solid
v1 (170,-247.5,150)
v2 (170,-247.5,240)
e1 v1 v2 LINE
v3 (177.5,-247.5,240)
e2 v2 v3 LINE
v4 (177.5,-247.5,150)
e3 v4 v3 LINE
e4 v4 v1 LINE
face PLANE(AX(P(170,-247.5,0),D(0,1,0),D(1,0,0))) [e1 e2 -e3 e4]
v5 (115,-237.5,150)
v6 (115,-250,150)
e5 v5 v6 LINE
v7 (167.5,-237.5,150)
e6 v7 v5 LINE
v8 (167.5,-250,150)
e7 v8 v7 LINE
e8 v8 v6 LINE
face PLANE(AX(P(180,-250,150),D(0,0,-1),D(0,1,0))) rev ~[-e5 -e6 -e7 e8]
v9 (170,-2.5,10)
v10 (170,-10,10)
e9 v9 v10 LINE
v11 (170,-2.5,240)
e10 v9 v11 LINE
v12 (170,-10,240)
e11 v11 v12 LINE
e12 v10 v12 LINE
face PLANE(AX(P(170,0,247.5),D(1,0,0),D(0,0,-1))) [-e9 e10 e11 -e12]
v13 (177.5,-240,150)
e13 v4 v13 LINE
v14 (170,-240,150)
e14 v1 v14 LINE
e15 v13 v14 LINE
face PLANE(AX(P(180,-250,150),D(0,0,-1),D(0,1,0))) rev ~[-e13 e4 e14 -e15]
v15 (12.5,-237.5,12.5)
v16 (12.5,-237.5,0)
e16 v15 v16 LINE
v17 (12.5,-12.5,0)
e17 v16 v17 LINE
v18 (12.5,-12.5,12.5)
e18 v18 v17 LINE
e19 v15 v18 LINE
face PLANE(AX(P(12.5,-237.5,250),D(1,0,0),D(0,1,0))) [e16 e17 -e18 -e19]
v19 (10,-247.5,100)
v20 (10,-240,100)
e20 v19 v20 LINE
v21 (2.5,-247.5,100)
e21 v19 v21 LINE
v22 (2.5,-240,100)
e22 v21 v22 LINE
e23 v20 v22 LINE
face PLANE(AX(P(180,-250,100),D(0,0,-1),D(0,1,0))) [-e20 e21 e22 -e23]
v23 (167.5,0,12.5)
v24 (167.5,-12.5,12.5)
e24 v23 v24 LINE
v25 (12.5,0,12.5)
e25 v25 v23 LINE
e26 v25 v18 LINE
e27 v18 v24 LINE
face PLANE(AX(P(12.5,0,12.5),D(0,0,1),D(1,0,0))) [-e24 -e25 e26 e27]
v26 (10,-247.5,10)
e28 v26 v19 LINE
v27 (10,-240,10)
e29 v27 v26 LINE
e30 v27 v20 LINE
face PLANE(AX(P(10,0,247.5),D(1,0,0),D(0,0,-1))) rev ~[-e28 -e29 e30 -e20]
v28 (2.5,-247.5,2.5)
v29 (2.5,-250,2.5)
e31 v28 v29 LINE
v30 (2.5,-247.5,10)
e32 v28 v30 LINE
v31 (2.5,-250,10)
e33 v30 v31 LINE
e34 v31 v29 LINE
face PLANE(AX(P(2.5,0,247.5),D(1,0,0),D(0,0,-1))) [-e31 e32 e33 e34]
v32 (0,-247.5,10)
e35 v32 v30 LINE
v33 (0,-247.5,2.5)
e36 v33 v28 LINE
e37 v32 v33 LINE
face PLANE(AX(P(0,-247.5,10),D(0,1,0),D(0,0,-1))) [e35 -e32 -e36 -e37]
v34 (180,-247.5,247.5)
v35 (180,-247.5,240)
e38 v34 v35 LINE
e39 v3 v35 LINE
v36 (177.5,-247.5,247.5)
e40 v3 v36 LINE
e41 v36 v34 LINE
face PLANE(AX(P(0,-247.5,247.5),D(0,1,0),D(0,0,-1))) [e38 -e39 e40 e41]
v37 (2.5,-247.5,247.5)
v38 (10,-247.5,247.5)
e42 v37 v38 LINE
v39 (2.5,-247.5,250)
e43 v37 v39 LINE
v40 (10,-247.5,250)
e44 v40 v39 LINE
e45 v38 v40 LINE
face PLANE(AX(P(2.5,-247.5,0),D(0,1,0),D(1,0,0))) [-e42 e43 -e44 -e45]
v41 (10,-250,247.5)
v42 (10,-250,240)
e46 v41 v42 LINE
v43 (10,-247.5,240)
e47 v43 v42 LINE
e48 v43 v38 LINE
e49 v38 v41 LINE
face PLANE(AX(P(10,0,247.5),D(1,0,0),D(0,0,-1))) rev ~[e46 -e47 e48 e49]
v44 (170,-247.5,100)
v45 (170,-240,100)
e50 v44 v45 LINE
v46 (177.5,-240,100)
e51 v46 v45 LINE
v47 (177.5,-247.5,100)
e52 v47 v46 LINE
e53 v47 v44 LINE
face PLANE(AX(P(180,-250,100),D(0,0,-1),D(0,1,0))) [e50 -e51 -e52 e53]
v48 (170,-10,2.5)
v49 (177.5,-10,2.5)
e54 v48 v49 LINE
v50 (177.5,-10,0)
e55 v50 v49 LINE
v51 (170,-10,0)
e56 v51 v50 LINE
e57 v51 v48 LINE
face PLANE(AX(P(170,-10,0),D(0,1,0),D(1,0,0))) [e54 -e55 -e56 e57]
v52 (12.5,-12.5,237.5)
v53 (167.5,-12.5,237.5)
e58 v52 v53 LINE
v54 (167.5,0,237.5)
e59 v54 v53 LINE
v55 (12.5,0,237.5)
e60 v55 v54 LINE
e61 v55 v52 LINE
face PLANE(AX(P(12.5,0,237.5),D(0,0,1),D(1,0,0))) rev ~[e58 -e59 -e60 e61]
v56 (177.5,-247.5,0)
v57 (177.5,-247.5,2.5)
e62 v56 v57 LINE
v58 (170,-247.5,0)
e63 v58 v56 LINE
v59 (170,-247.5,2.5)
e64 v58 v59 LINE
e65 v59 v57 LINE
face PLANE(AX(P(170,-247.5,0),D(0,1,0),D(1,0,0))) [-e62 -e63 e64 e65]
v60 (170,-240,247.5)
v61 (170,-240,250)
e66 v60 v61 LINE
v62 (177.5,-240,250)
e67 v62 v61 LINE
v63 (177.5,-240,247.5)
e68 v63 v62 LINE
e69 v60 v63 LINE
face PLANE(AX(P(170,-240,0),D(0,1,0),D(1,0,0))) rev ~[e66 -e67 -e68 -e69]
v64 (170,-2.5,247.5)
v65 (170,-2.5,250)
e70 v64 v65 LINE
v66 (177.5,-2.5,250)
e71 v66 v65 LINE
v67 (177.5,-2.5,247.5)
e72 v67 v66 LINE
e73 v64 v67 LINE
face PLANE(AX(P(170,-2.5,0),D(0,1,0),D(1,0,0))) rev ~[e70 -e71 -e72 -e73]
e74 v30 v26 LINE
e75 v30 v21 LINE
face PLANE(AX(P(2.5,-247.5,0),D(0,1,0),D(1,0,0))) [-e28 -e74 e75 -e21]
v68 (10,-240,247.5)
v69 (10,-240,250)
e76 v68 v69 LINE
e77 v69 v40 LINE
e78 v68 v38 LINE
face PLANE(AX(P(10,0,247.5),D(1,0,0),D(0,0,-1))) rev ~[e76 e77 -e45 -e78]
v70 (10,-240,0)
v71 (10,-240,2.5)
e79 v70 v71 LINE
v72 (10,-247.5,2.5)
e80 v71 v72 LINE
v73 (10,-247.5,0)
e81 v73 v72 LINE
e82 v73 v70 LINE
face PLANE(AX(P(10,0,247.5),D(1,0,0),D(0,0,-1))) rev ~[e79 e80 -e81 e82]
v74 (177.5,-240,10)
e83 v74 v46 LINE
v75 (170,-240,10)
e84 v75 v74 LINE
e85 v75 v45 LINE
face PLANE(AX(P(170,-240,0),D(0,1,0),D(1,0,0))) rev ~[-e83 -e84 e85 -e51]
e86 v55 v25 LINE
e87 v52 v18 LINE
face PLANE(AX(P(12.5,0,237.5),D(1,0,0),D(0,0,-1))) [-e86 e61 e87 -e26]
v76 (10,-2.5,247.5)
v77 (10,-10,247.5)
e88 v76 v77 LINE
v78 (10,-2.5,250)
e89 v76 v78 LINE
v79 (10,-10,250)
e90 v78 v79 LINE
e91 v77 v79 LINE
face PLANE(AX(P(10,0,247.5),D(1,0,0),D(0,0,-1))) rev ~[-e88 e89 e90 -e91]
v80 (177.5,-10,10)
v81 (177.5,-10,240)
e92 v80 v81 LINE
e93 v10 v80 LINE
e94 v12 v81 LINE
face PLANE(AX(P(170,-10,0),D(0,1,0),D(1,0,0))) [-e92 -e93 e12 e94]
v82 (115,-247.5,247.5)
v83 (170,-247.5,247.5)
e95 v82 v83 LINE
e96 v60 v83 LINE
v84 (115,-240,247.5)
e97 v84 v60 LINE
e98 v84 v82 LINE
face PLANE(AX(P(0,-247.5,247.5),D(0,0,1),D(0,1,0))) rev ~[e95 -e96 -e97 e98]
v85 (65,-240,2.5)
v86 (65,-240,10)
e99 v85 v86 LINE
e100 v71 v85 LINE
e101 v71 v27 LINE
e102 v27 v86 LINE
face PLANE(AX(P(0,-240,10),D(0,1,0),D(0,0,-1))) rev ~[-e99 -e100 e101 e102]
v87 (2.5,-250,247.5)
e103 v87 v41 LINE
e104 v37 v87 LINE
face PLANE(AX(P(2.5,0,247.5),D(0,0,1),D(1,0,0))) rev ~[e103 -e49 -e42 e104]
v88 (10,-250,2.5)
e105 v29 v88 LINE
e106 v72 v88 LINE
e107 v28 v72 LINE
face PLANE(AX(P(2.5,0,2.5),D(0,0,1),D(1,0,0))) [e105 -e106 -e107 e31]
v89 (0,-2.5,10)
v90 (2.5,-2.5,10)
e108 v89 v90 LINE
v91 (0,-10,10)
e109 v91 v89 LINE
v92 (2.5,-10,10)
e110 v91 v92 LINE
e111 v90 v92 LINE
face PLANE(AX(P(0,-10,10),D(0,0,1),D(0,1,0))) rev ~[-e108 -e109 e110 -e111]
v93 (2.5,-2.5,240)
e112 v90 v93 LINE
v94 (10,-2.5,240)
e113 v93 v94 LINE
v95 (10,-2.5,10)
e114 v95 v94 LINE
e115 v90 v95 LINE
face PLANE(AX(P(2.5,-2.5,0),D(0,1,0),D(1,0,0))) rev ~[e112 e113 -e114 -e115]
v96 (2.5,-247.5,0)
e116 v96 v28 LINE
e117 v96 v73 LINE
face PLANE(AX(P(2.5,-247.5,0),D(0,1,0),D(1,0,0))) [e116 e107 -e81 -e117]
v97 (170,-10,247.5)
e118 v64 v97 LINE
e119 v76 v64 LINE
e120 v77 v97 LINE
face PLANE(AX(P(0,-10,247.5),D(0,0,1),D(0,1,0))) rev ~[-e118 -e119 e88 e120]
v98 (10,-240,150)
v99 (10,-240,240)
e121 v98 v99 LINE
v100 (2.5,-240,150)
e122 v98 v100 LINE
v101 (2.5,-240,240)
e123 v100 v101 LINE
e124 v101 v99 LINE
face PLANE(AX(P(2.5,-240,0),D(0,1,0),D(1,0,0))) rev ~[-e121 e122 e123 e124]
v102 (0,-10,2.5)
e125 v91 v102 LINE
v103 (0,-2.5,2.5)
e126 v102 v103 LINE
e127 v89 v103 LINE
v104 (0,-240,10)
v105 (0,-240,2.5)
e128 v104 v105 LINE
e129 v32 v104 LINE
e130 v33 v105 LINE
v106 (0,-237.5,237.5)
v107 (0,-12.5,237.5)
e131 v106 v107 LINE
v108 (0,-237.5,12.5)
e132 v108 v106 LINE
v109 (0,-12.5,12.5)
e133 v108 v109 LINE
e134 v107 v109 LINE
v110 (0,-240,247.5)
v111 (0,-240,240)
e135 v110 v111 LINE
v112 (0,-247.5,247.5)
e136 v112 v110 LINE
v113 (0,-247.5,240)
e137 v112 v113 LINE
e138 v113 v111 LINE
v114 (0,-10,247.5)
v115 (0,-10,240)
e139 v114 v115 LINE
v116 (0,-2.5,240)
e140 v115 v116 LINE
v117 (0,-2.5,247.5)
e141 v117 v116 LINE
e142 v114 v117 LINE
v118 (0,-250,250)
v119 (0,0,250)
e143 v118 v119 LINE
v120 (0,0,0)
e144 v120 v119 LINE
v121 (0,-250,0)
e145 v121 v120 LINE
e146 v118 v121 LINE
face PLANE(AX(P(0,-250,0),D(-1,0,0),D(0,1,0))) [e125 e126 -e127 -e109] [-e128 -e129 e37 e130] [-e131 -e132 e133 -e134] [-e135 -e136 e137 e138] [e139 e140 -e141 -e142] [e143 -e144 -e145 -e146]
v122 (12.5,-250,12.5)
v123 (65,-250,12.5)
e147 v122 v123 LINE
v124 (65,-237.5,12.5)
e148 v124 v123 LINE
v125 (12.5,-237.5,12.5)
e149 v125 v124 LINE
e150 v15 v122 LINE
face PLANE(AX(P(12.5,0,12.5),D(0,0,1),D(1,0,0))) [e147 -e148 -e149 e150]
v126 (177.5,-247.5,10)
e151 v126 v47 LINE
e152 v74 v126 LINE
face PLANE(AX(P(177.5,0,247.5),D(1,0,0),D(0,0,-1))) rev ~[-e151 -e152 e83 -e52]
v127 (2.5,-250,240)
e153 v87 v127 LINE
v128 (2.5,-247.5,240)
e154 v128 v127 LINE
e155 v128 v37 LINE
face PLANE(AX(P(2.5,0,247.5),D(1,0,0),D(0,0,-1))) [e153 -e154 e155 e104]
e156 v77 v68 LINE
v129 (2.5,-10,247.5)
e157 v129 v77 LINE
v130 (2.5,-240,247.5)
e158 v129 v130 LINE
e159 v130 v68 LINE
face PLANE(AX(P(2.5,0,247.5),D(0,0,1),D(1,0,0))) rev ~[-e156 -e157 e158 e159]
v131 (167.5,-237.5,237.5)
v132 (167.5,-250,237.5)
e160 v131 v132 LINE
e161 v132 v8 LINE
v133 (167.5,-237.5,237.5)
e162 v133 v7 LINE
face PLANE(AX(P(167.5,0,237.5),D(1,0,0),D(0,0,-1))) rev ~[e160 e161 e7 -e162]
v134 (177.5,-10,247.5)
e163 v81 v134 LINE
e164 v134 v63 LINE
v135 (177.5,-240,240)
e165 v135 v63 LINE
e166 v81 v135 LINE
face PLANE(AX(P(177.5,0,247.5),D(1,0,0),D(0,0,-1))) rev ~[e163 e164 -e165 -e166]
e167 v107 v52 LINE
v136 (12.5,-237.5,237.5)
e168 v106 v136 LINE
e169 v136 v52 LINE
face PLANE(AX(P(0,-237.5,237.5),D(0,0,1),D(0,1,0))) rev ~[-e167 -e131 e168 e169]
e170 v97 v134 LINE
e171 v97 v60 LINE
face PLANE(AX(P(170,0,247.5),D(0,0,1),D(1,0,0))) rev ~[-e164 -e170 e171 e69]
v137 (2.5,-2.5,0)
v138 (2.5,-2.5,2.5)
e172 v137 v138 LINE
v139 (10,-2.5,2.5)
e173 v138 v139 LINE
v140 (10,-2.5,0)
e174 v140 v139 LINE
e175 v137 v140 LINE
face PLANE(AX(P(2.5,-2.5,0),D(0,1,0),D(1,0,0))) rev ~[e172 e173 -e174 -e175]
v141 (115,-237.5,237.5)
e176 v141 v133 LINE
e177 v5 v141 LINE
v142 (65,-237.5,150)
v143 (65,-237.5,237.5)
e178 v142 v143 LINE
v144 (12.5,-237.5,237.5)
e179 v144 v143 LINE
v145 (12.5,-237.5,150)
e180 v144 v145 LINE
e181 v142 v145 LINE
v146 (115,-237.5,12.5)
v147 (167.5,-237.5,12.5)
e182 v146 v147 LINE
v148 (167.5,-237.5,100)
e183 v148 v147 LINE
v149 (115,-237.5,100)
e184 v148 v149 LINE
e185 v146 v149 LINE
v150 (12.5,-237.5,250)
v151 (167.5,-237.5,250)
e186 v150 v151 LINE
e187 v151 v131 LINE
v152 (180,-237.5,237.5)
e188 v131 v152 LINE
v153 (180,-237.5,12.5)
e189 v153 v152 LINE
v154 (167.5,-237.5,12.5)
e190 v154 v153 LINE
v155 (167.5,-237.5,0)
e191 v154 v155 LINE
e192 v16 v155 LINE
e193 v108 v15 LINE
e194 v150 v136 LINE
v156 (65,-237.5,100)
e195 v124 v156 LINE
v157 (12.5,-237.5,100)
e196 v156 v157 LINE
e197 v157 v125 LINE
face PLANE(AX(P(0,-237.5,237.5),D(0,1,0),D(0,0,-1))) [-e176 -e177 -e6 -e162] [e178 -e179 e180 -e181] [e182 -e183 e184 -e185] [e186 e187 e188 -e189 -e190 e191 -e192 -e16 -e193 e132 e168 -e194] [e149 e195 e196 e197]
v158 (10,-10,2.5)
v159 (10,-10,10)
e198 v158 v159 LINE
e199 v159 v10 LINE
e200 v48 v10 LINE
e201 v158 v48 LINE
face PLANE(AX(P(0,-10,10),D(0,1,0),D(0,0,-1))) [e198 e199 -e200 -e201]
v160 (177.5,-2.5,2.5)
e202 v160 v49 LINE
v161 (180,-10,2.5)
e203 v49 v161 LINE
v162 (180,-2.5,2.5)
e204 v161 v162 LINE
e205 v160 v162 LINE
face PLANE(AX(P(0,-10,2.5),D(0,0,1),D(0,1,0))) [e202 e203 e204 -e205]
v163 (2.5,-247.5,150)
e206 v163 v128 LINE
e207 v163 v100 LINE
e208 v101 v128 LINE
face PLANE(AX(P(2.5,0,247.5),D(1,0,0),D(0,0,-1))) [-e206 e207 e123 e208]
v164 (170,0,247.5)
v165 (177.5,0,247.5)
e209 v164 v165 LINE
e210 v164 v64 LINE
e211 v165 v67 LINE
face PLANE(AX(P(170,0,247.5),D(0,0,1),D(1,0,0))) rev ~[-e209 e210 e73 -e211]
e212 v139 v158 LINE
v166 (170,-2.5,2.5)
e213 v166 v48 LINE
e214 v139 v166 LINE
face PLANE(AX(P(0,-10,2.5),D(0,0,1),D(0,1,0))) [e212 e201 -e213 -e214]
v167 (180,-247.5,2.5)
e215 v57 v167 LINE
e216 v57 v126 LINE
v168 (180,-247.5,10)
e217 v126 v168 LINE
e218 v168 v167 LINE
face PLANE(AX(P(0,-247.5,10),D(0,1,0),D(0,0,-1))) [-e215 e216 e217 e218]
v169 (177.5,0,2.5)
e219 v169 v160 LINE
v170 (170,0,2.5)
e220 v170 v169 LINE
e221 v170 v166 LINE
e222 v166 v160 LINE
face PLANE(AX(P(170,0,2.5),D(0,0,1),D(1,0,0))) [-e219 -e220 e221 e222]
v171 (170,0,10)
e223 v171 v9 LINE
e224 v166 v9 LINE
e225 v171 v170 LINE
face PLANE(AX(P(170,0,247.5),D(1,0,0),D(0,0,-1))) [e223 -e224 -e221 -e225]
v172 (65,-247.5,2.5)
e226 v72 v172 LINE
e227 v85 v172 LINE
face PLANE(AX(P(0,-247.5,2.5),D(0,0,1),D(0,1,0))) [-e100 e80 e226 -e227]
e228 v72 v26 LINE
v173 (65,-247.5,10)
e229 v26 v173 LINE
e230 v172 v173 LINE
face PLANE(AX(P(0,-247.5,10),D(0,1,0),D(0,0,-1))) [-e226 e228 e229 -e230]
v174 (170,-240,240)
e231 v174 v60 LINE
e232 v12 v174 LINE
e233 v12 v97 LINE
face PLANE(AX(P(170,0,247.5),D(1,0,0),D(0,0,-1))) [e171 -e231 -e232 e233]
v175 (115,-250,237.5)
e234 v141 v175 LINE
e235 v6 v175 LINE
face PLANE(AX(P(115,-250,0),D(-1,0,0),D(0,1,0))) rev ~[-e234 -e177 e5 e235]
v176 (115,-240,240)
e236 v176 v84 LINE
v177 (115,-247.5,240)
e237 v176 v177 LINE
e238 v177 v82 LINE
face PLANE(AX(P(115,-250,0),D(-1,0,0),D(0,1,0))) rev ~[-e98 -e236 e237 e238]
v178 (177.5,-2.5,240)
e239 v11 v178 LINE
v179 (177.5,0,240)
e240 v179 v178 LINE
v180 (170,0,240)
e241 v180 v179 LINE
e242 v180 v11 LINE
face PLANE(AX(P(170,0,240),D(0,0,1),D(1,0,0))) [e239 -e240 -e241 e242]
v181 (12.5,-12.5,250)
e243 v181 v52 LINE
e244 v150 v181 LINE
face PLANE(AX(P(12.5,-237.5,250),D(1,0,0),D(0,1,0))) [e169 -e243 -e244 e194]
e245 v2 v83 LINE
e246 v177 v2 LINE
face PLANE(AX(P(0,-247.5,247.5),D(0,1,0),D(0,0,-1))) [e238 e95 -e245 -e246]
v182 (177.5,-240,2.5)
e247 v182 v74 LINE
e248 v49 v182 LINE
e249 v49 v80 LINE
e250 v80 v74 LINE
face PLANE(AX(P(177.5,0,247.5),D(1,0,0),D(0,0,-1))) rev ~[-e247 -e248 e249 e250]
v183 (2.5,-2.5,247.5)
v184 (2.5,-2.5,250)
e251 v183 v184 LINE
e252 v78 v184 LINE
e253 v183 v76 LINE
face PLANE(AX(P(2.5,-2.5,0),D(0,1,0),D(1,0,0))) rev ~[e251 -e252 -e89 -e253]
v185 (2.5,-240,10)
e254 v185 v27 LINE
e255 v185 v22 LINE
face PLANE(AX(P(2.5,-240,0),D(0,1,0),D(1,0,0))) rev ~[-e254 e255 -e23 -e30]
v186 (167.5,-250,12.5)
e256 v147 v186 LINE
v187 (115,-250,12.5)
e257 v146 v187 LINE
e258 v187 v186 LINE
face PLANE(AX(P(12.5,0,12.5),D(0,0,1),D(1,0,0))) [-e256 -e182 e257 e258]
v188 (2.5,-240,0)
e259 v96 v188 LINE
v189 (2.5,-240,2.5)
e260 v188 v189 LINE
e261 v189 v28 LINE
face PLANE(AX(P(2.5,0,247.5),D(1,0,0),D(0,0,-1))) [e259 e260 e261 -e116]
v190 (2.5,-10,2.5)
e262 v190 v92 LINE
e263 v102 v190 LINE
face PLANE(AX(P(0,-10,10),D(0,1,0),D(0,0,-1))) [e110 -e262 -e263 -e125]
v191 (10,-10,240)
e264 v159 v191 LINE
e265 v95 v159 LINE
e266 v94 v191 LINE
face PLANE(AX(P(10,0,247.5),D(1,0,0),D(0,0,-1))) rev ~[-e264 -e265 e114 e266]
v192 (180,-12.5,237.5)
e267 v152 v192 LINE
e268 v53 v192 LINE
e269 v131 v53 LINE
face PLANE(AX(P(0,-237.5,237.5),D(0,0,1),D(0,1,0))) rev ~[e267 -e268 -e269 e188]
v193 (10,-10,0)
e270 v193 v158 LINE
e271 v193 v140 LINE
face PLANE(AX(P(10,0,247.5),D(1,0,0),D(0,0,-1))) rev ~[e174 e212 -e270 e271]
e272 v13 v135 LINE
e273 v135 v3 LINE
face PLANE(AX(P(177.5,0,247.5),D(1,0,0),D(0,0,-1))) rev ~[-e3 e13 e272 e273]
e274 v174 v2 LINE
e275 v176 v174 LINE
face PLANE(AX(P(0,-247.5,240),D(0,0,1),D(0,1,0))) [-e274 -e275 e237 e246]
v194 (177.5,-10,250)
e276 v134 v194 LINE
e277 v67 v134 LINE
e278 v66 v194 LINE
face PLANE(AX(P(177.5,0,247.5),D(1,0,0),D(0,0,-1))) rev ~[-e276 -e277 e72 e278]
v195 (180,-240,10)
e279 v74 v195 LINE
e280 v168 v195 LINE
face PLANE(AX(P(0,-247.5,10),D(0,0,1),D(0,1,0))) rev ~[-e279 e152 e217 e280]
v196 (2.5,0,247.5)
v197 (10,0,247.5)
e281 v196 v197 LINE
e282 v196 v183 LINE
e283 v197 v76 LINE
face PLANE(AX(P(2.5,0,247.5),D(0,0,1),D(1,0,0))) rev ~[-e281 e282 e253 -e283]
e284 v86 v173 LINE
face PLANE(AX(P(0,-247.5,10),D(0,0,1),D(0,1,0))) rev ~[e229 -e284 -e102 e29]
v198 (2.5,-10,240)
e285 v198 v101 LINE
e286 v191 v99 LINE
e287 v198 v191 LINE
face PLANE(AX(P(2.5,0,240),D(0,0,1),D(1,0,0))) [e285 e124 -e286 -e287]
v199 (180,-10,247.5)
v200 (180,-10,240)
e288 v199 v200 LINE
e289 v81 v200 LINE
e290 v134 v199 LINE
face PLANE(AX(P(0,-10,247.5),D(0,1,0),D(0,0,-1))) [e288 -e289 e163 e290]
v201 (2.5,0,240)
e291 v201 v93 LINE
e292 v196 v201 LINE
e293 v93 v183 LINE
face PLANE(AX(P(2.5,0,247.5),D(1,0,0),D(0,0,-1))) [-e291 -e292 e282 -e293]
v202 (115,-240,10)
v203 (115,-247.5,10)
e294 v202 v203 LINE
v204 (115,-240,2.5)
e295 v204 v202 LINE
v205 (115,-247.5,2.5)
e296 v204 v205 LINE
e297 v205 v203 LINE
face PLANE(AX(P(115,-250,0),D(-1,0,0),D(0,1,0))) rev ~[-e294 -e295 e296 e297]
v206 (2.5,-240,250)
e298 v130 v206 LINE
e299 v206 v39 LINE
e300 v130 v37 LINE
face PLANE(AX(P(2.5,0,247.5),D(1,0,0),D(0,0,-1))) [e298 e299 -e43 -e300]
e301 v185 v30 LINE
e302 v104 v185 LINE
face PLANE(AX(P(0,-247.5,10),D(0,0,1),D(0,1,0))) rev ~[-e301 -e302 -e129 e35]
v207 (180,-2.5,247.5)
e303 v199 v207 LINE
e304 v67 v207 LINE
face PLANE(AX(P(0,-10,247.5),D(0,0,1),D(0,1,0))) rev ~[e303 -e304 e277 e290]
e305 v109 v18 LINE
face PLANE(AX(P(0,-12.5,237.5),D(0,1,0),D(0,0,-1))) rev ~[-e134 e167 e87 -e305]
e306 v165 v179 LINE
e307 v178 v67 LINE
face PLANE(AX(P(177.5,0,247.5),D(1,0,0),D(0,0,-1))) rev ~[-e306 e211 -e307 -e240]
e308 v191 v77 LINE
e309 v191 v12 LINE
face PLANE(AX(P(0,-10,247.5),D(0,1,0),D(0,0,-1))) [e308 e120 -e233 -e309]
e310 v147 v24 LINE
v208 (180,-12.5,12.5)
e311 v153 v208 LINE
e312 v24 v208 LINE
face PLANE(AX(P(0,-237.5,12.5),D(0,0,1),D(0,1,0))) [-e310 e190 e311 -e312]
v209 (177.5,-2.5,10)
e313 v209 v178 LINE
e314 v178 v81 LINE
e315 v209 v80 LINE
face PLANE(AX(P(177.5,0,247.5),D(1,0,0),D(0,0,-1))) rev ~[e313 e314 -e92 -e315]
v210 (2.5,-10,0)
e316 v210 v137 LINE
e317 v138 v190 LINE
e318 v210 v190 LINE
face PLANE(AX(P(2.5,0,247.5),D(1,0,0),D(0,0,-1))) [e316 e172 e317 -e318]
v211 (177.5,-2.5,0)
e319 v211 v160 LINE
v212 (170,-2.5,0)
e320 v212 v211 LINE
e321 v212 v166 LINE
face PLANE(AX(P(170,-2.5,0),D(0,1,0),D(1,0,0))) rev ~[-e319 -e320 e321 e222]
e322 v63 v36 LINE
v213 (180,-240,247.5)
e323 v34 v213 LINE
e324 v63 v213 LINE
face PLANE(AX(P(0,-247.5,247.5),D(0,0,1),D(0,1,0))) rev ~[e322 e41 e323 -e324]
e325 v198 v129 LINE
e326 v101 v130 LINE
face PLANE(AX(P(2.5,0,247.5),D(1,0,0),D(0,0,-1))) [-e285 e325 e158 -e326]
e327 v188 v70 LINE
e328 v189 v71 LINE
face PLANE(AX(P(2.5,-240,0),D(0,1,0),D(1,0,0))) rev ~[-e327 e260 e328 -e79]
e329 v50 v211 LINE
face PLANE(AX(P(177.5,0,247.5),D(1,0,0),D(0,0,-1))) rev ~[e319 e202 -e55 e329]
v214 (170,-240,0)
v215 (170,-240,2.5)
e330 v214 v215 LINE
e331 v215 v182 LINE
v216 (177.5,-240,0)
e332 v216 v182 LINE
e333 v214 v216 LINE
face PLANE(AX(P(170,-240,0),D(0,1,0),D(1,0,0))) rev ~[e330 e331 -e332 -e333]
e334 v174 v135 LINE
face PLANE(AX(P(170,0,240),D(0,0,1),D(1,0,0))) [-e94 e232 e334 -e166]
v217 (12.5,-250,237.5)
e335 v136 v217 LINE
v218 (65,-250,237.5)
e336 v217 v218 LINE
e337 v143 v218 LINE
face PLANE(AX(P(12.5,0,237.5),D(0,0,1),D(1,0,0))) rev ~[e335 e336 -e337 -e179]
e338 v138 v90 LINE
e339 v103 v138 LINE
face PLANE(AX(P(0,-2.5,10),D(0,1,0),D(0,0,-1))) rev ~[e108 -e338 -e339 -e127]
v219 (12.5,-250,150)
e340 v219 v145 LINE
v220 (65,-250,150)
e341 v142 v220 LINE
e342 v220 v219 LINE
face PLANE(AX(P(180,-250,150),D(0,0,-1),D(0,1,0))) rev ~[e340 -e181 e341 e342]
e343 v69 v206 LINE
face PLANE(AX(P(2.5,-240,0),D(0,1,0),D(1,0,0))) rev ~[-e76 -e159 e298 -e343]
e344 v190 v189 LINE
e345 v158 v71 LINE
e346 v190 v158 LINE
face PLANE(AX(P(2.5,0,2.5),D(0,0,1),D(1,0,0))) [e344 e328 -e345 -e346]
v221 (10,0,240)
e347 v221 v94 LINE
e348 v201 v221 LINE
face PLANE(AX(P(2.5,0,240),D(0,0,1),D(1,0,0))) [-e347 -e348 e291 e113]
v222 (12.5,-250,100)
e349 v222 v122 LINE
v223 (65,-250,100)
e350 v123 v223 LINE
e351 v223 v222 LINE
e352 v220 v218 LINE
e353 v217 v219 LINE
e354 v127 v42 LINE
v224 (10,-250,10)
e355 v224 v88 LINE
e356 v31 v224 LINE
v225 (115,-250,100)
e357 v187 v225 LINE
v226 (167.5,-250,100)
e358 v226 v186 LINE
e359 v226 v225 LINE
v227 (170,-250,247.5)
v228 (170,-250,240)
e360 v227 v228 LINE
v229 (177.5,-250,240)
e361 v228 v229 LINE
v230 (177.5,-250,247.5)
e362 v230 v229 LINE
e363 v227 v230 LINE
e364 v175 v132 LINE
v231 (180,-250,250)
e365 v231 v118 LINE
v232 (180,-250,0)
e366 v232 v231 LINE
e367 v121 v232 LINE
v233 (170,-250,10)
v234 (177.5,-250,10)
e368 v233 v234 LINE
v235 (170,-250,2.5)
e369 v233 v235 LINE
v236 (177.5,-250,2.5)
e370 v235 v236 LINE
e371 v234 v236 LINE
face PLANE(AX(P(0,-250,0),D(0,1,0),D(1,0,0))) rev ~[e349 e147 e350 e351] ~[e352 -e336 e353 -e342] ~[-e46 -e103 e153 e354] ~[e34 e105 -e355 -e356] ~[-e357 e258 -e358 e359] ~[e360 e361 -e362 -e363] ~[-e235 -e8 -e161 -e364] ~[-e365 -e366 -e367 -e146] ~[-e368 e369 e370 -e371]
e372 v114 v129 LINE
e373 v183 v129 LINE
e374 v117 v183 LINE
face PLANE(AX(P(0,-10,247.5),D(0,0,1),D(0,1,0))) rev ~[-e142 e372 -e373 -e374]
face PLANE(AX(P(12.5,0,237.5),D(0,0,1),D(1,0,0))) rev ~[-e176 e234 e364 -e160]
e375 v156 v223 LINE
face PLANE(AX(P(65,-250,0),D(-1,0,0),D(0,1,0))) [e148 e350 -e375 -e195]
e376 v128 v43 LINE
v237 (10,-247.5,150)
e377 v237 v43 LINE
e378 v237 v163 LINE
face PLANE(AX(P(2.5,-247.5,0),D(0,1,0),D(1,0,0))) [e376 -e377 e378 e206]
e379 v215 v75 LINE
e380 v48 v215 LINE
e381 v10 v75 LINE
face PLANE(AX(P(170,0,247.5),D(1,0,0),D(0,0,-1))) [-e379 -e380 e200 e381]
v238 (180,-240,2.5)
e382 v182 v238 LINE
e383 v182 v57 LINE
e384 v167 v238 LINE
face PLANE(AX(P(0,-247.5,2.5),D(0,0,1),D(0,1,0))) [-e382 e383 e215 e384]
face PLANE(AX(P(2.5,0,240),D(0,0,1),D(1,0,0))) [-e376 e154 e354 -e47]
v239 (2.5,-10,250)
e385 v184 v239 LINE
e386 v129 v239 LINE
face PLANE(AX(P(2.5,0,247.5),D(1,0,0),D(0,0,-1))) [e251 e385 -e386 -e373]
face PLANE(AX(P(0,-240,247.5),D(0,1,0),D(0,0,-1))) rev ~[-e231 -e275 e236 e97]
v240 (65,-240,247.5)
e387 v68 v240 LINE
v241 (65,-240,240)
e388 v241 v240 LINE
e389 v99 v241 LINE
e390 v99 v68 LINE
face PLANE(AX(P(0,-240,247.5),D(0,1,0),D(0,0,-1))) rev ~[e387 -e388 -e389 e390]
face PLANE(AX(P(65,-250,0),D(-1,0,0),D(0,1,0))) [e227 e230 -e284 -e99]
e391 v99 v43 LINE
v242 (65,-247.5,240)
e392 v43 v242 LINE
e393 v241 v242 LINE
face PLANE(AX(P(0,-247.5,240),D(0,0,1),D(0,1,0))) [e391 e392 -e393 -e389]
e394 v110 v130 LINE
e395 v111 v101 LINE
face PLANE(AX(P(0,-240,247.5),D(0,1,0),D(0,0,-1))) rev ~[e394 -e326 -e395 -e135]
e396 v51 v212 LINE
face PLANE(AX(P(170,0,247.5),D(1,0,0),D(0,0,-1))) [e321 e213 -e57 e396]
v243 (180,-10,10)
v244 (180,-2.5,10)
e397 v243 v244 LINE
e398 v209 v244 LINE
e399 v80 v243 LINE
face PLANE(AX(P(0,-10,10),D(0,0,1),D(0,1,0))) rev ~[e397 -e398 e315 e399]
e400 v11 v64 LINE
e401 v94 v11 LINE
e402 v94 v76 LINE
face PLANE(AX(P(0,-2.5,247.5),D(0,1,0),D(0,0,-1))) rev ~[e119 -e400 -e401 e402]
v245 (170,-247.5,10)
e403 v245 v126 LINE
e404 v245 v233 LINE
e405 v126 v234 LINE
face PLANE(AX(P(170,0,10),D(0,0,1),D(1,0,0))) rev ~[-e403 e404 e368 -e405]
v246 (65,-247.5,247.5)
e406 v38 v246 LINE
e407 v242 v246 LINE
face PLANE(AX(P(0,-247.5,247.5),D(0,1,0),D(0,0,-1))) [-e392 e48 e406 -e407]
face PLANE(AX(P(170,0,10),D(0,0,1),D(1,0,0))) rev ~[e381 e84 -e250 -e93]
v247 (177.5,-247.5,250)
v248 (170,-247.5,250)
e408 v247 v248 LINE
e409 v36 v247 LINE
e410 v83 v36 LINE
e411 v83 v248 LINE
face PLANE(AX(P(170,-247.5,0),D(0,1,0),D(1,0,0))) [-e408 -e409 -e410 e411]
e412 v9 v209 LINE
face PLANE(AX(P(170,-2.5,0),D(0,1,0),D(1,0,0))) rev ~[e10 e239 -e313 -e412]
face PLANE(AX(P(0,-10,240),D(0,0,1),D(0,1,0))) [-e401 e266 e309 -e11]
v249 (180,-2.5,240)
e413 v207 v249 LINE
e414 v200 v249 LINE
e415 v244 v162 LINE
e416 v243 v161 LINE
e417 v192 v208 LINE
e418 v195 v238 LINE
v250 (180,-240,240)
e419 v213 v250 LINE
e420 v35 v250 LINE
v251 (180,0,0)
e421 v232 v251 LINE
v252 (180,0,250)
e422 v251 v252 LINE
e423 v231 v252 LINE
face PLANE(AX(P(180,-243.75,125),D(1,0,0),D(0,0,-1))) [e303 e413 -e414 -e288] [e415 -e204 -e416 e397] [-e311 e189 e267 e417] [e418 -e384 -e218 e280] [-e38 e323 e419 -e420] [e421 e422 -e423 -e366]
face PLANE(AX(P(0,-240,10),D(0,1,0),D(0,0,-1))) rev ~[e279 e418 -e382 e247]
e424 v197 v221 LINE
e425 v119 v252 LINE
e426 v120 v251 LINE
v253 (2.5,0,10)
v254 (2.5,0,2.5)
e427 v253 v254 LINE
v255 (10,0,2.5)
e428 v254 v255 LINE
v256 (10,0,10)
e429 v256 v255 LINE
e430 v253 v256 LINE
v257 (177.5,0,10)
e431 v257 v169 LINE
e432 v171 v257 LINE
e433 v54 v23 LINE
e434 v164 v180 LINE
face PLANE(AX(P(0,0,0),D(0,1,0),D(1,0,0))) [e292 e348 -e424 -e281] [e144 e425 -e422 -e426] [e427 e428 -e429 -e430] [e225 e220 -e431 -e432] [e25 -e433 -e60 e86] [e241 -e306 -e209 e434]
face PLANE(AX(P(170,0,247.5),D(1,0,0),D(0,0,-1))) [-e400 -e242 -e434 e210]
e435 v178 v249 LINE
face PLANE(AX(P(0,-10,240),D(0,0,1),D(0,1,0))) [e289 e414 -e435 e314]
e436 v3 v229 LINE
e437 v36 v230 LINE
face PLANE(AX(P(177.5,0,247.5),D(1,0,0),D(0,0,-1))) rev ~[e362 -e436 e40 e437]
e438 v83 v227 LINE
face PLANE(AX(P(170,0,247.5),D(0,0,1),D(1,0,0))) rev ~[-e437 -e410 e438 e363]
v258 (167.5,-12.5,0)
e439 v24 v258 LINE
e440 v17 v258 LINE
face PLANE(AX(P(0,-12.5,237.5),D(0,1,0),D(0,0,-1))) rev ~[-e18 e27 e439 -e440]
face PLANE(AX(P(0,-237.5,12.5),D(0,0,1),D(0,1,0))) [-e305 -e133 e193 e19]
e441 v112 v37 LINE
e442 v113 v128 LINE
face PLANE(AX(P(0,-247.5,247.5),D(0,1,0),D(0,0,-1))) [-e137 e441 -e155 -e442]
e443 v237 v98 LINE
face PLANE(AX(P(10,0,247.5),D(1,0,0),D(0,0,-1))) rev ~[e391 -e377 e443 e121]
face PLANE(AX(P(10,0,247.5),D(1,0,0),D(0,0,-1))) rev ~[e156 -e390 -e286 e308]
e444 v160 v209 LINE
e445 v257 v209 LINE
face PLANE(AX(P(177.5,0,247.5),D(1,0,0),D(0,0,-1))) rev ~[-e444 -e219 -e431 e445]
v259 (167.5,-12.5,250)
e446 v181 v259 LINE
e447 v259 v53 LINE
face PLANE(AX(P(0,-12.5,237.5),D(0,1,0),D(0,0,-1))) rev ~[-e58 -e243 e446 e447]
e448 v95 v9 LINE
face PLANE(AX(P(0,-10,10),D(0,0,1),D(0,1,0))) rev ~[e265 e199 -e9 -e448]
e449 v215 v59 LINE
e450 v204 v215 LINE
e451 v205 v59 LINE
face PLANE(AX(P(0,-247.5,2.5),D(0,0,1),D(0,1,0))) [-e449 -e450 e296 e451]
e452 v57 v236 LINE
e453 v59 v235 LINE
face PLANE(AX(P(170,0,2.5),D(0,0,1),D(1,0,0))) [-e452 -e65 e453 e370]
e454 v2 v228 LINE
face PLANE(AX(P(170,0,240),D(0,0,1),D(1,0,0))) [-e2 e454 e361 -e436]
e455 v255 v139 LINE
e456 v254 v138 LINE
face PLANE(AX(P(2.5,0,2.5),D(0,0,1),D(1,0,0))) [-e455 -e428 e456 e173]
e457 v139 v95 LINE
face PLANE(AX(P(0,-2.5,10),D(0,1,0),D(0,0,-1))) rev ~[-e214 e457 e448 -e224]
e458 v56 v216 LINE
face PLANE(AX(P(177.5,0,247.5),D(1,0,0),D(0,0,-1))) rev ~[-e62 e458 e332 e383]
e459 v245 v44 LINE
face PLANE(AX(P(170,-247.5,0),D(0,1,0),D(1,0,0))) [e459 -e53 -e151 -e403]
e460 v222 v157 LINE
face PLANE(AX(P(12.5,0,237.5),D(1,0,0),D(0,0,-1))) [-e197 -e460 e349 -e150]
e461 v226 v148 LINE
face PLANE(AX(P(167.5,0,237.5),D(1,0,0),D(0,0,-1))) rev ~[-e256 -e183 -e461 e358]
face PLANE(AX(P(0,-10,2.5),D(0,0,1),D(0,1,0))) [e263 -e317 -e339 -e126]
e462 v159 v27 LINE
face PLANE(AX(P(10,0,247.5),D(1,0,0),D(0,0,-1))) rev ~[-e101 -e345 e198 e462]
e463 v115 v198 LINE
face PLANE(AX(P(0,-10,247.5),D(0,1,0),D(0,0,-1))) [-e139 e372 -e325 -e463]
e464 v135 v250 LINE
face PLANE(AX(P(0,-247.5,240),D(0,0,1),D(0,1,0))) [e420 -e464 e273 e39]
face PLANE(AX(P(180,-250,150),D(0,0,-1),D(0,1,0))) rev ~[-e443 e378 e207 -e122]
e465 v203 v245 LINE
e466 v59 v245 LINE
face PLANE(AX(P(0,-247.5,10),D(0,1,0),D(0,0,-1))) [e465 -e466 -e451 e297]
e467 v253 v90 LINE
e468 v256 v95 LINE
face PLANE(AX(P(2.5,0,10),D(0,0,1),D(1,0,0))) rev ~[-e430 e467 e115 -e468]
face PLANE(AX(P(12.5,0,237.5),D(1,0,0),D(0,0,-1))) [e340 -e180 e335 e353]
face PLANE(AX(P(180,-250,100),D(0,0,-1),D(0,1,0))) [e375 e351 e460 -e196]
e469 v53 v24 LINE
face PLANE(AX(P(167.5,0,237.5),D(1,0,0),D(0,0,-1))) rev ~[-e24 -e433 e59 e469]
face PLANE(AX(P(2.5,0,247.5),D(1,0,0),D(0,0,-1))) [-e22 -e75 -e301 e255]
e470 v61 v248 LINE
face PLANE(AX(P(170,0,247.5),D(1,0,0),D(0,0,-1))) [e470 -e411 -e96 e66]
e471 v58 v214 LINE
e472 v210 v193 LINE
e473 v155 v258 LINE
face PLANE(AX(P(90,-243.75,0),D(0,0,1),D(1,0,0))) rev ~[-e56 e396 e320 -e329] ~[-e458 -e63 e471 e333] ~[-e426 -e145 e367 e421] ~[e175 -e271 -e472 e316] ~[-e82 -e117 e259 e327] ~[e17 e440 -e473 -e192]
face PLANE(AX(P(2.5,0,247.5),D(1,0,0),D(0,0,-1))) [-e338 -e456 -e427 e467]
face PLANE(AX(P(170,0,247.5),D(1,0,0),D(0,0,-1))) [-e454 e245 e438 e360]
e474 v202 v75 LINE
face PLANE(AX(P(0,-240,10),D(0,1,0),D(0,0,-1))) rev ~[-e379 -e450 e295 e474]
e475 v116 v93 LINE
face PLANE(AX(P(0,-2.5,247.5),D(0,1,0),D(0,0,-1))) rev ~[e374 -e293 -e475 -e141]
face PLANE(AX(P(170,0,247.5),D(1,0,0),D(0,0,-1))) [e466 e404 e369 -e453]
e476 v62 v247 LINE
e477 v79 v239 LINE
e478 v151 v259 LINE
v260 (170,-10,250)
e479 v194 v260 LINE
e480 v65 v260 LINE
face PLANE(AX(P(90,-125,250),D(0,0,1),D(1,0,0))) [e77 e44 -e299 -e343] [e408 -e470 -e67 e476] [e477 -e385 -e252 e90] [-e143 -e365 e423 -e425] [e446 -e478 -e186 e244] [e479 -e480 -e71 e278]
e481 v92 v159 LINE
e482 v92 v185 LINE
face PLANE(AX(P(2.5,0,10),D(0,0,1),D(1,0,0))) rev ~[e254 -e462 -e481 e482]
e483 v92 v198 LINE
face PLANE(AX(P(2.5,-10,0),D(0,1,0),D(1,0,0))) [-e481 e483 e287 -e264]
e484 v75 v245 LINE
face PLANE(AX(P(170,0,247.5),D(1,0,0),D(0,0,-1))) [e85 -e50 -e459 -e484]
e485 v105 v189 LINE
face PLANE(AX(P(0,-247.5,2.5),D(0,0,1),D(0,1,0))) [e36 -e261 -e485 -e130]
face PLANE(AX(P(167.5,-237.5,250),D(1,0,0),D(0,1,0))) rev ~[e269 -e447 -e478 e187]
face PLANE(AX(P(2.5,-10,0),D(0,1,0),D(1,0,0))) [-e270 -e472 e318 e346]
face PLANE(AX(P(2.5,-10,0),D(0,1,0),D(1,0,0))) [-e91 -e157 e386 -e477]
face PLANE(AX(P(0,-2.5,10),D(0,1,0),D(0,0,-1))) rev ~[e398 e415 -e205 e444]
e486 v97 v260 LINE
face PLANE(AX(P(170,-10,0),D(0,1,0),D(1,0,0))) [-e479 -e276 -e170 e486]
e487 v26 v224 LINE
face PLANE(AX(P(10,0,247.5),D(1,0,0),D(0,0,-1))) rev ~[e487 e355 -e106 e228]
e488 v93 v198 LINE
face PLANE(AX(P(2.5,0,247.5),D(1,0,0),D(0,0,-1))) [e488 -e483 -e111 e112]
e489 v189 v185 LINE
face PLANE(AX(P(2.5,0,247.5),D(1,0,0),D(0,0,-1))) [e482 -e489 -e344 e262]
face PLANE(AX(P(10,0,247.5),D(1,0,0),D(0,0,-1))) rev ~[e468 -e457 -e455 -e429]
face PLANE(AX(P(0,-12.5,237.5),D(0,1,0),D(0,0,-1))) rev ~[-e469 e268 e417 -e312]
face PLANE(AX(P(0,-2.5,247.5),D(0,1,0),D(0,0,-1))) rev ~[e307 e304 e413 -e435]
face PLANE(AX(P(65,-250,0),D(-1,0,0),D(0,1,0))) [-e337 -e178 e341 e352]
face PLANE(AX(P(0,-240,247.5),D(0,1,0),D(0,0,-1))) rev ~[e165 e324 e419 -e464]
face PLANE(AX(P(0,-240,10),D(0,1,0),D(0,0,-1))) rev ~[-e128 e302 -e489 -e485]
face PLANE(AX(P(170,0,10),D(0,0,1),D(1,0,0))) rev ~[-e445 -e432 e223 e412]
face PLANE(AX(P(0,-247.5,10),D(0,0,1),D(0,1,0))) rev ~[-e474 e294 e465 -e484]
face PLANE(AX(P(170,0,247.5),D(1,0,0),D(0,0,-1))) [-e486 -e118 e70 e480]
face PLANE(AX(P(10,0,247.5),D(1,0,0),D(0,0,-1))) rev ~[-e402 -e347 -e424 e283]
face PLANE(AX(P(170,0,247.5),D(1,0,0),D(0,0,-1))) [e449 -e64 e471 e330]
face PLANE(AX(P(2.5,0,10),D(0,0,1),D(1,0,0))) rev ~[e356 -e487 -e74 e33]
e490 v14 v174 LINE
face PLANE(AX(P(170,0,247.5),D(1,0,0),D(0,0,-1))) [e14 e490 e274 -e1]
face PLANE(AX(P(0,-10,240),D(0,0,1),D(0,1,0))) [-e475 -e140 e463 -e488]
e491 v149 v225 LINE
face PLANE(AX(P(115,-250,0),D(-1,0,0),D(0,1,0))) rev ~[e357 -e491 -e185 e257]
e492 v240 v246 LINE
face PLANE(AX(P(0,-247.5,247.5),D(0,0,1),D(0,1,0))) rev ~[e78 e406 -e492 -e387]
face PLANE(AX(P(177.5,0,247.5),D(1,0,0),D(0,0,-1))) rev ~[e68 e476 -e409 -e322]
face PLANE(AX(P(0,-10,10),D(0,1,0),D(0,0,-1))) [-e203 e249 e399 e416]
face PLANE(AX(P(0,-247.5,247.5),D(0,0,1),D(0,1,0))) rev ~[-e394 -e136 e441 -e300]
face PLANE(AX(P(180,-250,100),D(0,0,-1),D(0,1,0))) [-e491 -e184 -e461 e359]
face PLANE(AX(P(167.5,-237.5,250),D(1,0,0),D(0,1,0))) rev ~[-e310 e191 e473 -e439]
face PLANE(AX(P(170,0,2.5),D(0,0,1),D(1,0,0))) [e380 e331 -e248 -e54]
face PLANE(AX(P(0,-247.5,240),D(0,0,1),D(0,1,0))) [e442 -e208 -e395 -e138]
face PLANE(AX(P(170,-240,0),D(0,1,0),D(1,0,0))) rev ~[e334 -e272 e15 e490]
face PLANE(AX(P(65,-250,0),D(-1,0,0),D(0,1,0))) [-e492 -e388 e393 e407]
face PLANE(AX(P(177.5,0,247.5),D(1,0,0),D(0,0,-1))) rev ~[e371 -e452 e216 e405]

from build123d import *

# Parameters (mm, degrees)
SKETCH1_W           = 180
SKETCH1_H           = 250
BOSS_EXTRUDE1_DEPTH = 250
SKETCH2_W           = 225
SKETCH2_H           = 225
CUT_EXTRUDE2_DEPTH  = 397.736688498
SKETCH3_W           = 155
SKETCH3_H           = 225
CUT_EXTRUDE3_DEPTH  = 397.736688498
SKETCH4_W           = 155
SKETCH4_H           = 225
CUT_EXTRUDE4_DEPTH  = 250
SKETCH7_W           = 7.5
SKETCH7_H           = 7.5
CUT_EXTRUDE6_DEPTH  = 397.736688498
SKETCH8_W           = 7.5
SKETCH8_H           = 7.5
CUT_EXTRUDE7_DEPTH  = 397.736688498
SKETCH9_W           = 7.5
SKETCH9_H           = 7.5
CUT_EXTRUDE8_DEPTH  = 250
SKETCH10_W          = 50
SKETCH10_H          = 12.5
BOSS_EXTRUDE2_DEPTH = 250
SKETCH12_W          = 50
SKETCH12_H          = 12.5
BOSS_EXTRUDE3_DEPTH = 180


with BuildPart() as part:
    # Sketch1 → Boss-Extrude1 (new body)
    with BuildSketch(Plane.XY):
        with Locations((90, -125)):
            Rectangle(SKETCH1_W, SKETCH1_H)
    extrude(amount=BOSS_EXTRUDE1_DEPTH)

    # Sketch2 → Cut-Extrude2 (cut, through all)
    with BuildSketch(Plane(origin=(0, 0, 0), x_dir=(0, 0, -1), z_dir=(1, 0, 0))):
        with Locations((-125, -125)):
            Rectangle(SKETCH2_W, SKETCH2_H)
    extrude(amount=CUT_EXTRUDE2_DEPTH, mode=Mode.SUBTRACT)

    # Sketch3 → Cut-Extrude3 (cut, through all)
    with BuildSketch(Plane.XY.offset(250)):
        with Locations((90, -125)):
            Rectangle(SKETCH3_W, SKETCH3_H)
    extrude(amount=-CUT_EXTRUDE3_DEPTH, mode=Mode.SUBTRACT)

    # Sketch4 → Cut-Extrude4 (cut)
    with BuildSketch(Plane(origin=(0, 0, 0), x_dir=(1, 0, 0), z_dir=(0, 1, 0))):
        with Locations((90, -125)):
            Rectangle(SKETCH4_W, SKETCH4_H)
    extrude(amount=-CUT_EXTRUDE4_DEPTH, mode=Mode.SUBTRACT)

    # Sketch7 → Cut-Extrude6 (cut, through all)
    with BuildSketch(Plane.XY):
        with Locations((6.25, -6.25)):
            Rectangle(SKETCH7_W, SKETCH7_H)
        with Locations((173.75, -6.25)):
            Rectangle(SKETCH7_W, SKETCH7_H)
        with Locations((173.75, -243.75)):
            Rectangle(SKETCH7_W, SKETCH7_H)
        with Locations((6.25, -243.75)):
            Rectangle(SKETCH7_W, SKETCH7_H)
    extrude(amount=CUT_EXTRUDE6_DEPTH, mode=Mode.SUBTRACT)

    # Sketch8 → Cut-Extrude7 (cut, through all)
    with BuildSketch(Plane(origin=(0, 0, 0), x_dir=(1, 0, 0), z_dir=(0, 1, 0))):
        with Locations((6.25, -6.25)):
            Rectangle(SKETCH8_W, SKETCH8_H)
        with Locations((173.75, -6.25)):
            Rectangle(SKETCH8_W, SKETCH8_H)
        with Locations((173.75, -243.75)):
            Rectangle(SKETCH8_W, SKETCH8_H)
        with Locations((6.25, -243.75)):
            Rectangle(SKETCH8_W, SKETCH8_H)
    extrude(amount=-CUT_EXTRUDE7_DEPTH, mode=Mode.SUBTRACT)

    # Sketch9 → Cut-Extrude8 (cut)
    with BuildSketch(Plane(origin=(0, 0, 0), x_dir=(0, 0, -1), z_dir=(1, 0, 0))):
        with Locations((-6.25, -6.25)):
            Rectangle(SKETCH9_W, SKETCH9_H)
        with Locations((-243.75, -6.25)):
            Rectangle(SKETCH9_W, SKETCH9_H)
        with Locations((-243.75, -243.75)):
            Rectangle(SKETCH9_W, SKETCH9_H)
        with Locations((-6.25, -243.75)):
            Rectangle(SKETCH9_W, SKETCH9_H)
    extrude(amount=CUT_EXTRUDE8_DEPTH, mode=Mode.SUBTRACT)

    # Sketch10 → Boss-Extrude2 (add)
    with BuildSketch(Plane.XY):
        with Locations((90, -243.75)):
            Rectangle(SKETCH10_W, SKETCH10_H)
    extrude(amount=BOSS_EXTRUDE2_DEPTH)

    # Sketch12 → Boss-Extrude3 (add)
    with BuildSketch(Plane(origin=(180, 0, 0), x_dir=(0, 0, -1), z_dir=(1, 0, 0))):
        with Locations((-125, -243.75)):
            Rectangle(SKETCH12_W, SKETCH12_H)
    extrude(amount=-BOSS_EXTRUDE3_DEPTH)


solid = part.part
